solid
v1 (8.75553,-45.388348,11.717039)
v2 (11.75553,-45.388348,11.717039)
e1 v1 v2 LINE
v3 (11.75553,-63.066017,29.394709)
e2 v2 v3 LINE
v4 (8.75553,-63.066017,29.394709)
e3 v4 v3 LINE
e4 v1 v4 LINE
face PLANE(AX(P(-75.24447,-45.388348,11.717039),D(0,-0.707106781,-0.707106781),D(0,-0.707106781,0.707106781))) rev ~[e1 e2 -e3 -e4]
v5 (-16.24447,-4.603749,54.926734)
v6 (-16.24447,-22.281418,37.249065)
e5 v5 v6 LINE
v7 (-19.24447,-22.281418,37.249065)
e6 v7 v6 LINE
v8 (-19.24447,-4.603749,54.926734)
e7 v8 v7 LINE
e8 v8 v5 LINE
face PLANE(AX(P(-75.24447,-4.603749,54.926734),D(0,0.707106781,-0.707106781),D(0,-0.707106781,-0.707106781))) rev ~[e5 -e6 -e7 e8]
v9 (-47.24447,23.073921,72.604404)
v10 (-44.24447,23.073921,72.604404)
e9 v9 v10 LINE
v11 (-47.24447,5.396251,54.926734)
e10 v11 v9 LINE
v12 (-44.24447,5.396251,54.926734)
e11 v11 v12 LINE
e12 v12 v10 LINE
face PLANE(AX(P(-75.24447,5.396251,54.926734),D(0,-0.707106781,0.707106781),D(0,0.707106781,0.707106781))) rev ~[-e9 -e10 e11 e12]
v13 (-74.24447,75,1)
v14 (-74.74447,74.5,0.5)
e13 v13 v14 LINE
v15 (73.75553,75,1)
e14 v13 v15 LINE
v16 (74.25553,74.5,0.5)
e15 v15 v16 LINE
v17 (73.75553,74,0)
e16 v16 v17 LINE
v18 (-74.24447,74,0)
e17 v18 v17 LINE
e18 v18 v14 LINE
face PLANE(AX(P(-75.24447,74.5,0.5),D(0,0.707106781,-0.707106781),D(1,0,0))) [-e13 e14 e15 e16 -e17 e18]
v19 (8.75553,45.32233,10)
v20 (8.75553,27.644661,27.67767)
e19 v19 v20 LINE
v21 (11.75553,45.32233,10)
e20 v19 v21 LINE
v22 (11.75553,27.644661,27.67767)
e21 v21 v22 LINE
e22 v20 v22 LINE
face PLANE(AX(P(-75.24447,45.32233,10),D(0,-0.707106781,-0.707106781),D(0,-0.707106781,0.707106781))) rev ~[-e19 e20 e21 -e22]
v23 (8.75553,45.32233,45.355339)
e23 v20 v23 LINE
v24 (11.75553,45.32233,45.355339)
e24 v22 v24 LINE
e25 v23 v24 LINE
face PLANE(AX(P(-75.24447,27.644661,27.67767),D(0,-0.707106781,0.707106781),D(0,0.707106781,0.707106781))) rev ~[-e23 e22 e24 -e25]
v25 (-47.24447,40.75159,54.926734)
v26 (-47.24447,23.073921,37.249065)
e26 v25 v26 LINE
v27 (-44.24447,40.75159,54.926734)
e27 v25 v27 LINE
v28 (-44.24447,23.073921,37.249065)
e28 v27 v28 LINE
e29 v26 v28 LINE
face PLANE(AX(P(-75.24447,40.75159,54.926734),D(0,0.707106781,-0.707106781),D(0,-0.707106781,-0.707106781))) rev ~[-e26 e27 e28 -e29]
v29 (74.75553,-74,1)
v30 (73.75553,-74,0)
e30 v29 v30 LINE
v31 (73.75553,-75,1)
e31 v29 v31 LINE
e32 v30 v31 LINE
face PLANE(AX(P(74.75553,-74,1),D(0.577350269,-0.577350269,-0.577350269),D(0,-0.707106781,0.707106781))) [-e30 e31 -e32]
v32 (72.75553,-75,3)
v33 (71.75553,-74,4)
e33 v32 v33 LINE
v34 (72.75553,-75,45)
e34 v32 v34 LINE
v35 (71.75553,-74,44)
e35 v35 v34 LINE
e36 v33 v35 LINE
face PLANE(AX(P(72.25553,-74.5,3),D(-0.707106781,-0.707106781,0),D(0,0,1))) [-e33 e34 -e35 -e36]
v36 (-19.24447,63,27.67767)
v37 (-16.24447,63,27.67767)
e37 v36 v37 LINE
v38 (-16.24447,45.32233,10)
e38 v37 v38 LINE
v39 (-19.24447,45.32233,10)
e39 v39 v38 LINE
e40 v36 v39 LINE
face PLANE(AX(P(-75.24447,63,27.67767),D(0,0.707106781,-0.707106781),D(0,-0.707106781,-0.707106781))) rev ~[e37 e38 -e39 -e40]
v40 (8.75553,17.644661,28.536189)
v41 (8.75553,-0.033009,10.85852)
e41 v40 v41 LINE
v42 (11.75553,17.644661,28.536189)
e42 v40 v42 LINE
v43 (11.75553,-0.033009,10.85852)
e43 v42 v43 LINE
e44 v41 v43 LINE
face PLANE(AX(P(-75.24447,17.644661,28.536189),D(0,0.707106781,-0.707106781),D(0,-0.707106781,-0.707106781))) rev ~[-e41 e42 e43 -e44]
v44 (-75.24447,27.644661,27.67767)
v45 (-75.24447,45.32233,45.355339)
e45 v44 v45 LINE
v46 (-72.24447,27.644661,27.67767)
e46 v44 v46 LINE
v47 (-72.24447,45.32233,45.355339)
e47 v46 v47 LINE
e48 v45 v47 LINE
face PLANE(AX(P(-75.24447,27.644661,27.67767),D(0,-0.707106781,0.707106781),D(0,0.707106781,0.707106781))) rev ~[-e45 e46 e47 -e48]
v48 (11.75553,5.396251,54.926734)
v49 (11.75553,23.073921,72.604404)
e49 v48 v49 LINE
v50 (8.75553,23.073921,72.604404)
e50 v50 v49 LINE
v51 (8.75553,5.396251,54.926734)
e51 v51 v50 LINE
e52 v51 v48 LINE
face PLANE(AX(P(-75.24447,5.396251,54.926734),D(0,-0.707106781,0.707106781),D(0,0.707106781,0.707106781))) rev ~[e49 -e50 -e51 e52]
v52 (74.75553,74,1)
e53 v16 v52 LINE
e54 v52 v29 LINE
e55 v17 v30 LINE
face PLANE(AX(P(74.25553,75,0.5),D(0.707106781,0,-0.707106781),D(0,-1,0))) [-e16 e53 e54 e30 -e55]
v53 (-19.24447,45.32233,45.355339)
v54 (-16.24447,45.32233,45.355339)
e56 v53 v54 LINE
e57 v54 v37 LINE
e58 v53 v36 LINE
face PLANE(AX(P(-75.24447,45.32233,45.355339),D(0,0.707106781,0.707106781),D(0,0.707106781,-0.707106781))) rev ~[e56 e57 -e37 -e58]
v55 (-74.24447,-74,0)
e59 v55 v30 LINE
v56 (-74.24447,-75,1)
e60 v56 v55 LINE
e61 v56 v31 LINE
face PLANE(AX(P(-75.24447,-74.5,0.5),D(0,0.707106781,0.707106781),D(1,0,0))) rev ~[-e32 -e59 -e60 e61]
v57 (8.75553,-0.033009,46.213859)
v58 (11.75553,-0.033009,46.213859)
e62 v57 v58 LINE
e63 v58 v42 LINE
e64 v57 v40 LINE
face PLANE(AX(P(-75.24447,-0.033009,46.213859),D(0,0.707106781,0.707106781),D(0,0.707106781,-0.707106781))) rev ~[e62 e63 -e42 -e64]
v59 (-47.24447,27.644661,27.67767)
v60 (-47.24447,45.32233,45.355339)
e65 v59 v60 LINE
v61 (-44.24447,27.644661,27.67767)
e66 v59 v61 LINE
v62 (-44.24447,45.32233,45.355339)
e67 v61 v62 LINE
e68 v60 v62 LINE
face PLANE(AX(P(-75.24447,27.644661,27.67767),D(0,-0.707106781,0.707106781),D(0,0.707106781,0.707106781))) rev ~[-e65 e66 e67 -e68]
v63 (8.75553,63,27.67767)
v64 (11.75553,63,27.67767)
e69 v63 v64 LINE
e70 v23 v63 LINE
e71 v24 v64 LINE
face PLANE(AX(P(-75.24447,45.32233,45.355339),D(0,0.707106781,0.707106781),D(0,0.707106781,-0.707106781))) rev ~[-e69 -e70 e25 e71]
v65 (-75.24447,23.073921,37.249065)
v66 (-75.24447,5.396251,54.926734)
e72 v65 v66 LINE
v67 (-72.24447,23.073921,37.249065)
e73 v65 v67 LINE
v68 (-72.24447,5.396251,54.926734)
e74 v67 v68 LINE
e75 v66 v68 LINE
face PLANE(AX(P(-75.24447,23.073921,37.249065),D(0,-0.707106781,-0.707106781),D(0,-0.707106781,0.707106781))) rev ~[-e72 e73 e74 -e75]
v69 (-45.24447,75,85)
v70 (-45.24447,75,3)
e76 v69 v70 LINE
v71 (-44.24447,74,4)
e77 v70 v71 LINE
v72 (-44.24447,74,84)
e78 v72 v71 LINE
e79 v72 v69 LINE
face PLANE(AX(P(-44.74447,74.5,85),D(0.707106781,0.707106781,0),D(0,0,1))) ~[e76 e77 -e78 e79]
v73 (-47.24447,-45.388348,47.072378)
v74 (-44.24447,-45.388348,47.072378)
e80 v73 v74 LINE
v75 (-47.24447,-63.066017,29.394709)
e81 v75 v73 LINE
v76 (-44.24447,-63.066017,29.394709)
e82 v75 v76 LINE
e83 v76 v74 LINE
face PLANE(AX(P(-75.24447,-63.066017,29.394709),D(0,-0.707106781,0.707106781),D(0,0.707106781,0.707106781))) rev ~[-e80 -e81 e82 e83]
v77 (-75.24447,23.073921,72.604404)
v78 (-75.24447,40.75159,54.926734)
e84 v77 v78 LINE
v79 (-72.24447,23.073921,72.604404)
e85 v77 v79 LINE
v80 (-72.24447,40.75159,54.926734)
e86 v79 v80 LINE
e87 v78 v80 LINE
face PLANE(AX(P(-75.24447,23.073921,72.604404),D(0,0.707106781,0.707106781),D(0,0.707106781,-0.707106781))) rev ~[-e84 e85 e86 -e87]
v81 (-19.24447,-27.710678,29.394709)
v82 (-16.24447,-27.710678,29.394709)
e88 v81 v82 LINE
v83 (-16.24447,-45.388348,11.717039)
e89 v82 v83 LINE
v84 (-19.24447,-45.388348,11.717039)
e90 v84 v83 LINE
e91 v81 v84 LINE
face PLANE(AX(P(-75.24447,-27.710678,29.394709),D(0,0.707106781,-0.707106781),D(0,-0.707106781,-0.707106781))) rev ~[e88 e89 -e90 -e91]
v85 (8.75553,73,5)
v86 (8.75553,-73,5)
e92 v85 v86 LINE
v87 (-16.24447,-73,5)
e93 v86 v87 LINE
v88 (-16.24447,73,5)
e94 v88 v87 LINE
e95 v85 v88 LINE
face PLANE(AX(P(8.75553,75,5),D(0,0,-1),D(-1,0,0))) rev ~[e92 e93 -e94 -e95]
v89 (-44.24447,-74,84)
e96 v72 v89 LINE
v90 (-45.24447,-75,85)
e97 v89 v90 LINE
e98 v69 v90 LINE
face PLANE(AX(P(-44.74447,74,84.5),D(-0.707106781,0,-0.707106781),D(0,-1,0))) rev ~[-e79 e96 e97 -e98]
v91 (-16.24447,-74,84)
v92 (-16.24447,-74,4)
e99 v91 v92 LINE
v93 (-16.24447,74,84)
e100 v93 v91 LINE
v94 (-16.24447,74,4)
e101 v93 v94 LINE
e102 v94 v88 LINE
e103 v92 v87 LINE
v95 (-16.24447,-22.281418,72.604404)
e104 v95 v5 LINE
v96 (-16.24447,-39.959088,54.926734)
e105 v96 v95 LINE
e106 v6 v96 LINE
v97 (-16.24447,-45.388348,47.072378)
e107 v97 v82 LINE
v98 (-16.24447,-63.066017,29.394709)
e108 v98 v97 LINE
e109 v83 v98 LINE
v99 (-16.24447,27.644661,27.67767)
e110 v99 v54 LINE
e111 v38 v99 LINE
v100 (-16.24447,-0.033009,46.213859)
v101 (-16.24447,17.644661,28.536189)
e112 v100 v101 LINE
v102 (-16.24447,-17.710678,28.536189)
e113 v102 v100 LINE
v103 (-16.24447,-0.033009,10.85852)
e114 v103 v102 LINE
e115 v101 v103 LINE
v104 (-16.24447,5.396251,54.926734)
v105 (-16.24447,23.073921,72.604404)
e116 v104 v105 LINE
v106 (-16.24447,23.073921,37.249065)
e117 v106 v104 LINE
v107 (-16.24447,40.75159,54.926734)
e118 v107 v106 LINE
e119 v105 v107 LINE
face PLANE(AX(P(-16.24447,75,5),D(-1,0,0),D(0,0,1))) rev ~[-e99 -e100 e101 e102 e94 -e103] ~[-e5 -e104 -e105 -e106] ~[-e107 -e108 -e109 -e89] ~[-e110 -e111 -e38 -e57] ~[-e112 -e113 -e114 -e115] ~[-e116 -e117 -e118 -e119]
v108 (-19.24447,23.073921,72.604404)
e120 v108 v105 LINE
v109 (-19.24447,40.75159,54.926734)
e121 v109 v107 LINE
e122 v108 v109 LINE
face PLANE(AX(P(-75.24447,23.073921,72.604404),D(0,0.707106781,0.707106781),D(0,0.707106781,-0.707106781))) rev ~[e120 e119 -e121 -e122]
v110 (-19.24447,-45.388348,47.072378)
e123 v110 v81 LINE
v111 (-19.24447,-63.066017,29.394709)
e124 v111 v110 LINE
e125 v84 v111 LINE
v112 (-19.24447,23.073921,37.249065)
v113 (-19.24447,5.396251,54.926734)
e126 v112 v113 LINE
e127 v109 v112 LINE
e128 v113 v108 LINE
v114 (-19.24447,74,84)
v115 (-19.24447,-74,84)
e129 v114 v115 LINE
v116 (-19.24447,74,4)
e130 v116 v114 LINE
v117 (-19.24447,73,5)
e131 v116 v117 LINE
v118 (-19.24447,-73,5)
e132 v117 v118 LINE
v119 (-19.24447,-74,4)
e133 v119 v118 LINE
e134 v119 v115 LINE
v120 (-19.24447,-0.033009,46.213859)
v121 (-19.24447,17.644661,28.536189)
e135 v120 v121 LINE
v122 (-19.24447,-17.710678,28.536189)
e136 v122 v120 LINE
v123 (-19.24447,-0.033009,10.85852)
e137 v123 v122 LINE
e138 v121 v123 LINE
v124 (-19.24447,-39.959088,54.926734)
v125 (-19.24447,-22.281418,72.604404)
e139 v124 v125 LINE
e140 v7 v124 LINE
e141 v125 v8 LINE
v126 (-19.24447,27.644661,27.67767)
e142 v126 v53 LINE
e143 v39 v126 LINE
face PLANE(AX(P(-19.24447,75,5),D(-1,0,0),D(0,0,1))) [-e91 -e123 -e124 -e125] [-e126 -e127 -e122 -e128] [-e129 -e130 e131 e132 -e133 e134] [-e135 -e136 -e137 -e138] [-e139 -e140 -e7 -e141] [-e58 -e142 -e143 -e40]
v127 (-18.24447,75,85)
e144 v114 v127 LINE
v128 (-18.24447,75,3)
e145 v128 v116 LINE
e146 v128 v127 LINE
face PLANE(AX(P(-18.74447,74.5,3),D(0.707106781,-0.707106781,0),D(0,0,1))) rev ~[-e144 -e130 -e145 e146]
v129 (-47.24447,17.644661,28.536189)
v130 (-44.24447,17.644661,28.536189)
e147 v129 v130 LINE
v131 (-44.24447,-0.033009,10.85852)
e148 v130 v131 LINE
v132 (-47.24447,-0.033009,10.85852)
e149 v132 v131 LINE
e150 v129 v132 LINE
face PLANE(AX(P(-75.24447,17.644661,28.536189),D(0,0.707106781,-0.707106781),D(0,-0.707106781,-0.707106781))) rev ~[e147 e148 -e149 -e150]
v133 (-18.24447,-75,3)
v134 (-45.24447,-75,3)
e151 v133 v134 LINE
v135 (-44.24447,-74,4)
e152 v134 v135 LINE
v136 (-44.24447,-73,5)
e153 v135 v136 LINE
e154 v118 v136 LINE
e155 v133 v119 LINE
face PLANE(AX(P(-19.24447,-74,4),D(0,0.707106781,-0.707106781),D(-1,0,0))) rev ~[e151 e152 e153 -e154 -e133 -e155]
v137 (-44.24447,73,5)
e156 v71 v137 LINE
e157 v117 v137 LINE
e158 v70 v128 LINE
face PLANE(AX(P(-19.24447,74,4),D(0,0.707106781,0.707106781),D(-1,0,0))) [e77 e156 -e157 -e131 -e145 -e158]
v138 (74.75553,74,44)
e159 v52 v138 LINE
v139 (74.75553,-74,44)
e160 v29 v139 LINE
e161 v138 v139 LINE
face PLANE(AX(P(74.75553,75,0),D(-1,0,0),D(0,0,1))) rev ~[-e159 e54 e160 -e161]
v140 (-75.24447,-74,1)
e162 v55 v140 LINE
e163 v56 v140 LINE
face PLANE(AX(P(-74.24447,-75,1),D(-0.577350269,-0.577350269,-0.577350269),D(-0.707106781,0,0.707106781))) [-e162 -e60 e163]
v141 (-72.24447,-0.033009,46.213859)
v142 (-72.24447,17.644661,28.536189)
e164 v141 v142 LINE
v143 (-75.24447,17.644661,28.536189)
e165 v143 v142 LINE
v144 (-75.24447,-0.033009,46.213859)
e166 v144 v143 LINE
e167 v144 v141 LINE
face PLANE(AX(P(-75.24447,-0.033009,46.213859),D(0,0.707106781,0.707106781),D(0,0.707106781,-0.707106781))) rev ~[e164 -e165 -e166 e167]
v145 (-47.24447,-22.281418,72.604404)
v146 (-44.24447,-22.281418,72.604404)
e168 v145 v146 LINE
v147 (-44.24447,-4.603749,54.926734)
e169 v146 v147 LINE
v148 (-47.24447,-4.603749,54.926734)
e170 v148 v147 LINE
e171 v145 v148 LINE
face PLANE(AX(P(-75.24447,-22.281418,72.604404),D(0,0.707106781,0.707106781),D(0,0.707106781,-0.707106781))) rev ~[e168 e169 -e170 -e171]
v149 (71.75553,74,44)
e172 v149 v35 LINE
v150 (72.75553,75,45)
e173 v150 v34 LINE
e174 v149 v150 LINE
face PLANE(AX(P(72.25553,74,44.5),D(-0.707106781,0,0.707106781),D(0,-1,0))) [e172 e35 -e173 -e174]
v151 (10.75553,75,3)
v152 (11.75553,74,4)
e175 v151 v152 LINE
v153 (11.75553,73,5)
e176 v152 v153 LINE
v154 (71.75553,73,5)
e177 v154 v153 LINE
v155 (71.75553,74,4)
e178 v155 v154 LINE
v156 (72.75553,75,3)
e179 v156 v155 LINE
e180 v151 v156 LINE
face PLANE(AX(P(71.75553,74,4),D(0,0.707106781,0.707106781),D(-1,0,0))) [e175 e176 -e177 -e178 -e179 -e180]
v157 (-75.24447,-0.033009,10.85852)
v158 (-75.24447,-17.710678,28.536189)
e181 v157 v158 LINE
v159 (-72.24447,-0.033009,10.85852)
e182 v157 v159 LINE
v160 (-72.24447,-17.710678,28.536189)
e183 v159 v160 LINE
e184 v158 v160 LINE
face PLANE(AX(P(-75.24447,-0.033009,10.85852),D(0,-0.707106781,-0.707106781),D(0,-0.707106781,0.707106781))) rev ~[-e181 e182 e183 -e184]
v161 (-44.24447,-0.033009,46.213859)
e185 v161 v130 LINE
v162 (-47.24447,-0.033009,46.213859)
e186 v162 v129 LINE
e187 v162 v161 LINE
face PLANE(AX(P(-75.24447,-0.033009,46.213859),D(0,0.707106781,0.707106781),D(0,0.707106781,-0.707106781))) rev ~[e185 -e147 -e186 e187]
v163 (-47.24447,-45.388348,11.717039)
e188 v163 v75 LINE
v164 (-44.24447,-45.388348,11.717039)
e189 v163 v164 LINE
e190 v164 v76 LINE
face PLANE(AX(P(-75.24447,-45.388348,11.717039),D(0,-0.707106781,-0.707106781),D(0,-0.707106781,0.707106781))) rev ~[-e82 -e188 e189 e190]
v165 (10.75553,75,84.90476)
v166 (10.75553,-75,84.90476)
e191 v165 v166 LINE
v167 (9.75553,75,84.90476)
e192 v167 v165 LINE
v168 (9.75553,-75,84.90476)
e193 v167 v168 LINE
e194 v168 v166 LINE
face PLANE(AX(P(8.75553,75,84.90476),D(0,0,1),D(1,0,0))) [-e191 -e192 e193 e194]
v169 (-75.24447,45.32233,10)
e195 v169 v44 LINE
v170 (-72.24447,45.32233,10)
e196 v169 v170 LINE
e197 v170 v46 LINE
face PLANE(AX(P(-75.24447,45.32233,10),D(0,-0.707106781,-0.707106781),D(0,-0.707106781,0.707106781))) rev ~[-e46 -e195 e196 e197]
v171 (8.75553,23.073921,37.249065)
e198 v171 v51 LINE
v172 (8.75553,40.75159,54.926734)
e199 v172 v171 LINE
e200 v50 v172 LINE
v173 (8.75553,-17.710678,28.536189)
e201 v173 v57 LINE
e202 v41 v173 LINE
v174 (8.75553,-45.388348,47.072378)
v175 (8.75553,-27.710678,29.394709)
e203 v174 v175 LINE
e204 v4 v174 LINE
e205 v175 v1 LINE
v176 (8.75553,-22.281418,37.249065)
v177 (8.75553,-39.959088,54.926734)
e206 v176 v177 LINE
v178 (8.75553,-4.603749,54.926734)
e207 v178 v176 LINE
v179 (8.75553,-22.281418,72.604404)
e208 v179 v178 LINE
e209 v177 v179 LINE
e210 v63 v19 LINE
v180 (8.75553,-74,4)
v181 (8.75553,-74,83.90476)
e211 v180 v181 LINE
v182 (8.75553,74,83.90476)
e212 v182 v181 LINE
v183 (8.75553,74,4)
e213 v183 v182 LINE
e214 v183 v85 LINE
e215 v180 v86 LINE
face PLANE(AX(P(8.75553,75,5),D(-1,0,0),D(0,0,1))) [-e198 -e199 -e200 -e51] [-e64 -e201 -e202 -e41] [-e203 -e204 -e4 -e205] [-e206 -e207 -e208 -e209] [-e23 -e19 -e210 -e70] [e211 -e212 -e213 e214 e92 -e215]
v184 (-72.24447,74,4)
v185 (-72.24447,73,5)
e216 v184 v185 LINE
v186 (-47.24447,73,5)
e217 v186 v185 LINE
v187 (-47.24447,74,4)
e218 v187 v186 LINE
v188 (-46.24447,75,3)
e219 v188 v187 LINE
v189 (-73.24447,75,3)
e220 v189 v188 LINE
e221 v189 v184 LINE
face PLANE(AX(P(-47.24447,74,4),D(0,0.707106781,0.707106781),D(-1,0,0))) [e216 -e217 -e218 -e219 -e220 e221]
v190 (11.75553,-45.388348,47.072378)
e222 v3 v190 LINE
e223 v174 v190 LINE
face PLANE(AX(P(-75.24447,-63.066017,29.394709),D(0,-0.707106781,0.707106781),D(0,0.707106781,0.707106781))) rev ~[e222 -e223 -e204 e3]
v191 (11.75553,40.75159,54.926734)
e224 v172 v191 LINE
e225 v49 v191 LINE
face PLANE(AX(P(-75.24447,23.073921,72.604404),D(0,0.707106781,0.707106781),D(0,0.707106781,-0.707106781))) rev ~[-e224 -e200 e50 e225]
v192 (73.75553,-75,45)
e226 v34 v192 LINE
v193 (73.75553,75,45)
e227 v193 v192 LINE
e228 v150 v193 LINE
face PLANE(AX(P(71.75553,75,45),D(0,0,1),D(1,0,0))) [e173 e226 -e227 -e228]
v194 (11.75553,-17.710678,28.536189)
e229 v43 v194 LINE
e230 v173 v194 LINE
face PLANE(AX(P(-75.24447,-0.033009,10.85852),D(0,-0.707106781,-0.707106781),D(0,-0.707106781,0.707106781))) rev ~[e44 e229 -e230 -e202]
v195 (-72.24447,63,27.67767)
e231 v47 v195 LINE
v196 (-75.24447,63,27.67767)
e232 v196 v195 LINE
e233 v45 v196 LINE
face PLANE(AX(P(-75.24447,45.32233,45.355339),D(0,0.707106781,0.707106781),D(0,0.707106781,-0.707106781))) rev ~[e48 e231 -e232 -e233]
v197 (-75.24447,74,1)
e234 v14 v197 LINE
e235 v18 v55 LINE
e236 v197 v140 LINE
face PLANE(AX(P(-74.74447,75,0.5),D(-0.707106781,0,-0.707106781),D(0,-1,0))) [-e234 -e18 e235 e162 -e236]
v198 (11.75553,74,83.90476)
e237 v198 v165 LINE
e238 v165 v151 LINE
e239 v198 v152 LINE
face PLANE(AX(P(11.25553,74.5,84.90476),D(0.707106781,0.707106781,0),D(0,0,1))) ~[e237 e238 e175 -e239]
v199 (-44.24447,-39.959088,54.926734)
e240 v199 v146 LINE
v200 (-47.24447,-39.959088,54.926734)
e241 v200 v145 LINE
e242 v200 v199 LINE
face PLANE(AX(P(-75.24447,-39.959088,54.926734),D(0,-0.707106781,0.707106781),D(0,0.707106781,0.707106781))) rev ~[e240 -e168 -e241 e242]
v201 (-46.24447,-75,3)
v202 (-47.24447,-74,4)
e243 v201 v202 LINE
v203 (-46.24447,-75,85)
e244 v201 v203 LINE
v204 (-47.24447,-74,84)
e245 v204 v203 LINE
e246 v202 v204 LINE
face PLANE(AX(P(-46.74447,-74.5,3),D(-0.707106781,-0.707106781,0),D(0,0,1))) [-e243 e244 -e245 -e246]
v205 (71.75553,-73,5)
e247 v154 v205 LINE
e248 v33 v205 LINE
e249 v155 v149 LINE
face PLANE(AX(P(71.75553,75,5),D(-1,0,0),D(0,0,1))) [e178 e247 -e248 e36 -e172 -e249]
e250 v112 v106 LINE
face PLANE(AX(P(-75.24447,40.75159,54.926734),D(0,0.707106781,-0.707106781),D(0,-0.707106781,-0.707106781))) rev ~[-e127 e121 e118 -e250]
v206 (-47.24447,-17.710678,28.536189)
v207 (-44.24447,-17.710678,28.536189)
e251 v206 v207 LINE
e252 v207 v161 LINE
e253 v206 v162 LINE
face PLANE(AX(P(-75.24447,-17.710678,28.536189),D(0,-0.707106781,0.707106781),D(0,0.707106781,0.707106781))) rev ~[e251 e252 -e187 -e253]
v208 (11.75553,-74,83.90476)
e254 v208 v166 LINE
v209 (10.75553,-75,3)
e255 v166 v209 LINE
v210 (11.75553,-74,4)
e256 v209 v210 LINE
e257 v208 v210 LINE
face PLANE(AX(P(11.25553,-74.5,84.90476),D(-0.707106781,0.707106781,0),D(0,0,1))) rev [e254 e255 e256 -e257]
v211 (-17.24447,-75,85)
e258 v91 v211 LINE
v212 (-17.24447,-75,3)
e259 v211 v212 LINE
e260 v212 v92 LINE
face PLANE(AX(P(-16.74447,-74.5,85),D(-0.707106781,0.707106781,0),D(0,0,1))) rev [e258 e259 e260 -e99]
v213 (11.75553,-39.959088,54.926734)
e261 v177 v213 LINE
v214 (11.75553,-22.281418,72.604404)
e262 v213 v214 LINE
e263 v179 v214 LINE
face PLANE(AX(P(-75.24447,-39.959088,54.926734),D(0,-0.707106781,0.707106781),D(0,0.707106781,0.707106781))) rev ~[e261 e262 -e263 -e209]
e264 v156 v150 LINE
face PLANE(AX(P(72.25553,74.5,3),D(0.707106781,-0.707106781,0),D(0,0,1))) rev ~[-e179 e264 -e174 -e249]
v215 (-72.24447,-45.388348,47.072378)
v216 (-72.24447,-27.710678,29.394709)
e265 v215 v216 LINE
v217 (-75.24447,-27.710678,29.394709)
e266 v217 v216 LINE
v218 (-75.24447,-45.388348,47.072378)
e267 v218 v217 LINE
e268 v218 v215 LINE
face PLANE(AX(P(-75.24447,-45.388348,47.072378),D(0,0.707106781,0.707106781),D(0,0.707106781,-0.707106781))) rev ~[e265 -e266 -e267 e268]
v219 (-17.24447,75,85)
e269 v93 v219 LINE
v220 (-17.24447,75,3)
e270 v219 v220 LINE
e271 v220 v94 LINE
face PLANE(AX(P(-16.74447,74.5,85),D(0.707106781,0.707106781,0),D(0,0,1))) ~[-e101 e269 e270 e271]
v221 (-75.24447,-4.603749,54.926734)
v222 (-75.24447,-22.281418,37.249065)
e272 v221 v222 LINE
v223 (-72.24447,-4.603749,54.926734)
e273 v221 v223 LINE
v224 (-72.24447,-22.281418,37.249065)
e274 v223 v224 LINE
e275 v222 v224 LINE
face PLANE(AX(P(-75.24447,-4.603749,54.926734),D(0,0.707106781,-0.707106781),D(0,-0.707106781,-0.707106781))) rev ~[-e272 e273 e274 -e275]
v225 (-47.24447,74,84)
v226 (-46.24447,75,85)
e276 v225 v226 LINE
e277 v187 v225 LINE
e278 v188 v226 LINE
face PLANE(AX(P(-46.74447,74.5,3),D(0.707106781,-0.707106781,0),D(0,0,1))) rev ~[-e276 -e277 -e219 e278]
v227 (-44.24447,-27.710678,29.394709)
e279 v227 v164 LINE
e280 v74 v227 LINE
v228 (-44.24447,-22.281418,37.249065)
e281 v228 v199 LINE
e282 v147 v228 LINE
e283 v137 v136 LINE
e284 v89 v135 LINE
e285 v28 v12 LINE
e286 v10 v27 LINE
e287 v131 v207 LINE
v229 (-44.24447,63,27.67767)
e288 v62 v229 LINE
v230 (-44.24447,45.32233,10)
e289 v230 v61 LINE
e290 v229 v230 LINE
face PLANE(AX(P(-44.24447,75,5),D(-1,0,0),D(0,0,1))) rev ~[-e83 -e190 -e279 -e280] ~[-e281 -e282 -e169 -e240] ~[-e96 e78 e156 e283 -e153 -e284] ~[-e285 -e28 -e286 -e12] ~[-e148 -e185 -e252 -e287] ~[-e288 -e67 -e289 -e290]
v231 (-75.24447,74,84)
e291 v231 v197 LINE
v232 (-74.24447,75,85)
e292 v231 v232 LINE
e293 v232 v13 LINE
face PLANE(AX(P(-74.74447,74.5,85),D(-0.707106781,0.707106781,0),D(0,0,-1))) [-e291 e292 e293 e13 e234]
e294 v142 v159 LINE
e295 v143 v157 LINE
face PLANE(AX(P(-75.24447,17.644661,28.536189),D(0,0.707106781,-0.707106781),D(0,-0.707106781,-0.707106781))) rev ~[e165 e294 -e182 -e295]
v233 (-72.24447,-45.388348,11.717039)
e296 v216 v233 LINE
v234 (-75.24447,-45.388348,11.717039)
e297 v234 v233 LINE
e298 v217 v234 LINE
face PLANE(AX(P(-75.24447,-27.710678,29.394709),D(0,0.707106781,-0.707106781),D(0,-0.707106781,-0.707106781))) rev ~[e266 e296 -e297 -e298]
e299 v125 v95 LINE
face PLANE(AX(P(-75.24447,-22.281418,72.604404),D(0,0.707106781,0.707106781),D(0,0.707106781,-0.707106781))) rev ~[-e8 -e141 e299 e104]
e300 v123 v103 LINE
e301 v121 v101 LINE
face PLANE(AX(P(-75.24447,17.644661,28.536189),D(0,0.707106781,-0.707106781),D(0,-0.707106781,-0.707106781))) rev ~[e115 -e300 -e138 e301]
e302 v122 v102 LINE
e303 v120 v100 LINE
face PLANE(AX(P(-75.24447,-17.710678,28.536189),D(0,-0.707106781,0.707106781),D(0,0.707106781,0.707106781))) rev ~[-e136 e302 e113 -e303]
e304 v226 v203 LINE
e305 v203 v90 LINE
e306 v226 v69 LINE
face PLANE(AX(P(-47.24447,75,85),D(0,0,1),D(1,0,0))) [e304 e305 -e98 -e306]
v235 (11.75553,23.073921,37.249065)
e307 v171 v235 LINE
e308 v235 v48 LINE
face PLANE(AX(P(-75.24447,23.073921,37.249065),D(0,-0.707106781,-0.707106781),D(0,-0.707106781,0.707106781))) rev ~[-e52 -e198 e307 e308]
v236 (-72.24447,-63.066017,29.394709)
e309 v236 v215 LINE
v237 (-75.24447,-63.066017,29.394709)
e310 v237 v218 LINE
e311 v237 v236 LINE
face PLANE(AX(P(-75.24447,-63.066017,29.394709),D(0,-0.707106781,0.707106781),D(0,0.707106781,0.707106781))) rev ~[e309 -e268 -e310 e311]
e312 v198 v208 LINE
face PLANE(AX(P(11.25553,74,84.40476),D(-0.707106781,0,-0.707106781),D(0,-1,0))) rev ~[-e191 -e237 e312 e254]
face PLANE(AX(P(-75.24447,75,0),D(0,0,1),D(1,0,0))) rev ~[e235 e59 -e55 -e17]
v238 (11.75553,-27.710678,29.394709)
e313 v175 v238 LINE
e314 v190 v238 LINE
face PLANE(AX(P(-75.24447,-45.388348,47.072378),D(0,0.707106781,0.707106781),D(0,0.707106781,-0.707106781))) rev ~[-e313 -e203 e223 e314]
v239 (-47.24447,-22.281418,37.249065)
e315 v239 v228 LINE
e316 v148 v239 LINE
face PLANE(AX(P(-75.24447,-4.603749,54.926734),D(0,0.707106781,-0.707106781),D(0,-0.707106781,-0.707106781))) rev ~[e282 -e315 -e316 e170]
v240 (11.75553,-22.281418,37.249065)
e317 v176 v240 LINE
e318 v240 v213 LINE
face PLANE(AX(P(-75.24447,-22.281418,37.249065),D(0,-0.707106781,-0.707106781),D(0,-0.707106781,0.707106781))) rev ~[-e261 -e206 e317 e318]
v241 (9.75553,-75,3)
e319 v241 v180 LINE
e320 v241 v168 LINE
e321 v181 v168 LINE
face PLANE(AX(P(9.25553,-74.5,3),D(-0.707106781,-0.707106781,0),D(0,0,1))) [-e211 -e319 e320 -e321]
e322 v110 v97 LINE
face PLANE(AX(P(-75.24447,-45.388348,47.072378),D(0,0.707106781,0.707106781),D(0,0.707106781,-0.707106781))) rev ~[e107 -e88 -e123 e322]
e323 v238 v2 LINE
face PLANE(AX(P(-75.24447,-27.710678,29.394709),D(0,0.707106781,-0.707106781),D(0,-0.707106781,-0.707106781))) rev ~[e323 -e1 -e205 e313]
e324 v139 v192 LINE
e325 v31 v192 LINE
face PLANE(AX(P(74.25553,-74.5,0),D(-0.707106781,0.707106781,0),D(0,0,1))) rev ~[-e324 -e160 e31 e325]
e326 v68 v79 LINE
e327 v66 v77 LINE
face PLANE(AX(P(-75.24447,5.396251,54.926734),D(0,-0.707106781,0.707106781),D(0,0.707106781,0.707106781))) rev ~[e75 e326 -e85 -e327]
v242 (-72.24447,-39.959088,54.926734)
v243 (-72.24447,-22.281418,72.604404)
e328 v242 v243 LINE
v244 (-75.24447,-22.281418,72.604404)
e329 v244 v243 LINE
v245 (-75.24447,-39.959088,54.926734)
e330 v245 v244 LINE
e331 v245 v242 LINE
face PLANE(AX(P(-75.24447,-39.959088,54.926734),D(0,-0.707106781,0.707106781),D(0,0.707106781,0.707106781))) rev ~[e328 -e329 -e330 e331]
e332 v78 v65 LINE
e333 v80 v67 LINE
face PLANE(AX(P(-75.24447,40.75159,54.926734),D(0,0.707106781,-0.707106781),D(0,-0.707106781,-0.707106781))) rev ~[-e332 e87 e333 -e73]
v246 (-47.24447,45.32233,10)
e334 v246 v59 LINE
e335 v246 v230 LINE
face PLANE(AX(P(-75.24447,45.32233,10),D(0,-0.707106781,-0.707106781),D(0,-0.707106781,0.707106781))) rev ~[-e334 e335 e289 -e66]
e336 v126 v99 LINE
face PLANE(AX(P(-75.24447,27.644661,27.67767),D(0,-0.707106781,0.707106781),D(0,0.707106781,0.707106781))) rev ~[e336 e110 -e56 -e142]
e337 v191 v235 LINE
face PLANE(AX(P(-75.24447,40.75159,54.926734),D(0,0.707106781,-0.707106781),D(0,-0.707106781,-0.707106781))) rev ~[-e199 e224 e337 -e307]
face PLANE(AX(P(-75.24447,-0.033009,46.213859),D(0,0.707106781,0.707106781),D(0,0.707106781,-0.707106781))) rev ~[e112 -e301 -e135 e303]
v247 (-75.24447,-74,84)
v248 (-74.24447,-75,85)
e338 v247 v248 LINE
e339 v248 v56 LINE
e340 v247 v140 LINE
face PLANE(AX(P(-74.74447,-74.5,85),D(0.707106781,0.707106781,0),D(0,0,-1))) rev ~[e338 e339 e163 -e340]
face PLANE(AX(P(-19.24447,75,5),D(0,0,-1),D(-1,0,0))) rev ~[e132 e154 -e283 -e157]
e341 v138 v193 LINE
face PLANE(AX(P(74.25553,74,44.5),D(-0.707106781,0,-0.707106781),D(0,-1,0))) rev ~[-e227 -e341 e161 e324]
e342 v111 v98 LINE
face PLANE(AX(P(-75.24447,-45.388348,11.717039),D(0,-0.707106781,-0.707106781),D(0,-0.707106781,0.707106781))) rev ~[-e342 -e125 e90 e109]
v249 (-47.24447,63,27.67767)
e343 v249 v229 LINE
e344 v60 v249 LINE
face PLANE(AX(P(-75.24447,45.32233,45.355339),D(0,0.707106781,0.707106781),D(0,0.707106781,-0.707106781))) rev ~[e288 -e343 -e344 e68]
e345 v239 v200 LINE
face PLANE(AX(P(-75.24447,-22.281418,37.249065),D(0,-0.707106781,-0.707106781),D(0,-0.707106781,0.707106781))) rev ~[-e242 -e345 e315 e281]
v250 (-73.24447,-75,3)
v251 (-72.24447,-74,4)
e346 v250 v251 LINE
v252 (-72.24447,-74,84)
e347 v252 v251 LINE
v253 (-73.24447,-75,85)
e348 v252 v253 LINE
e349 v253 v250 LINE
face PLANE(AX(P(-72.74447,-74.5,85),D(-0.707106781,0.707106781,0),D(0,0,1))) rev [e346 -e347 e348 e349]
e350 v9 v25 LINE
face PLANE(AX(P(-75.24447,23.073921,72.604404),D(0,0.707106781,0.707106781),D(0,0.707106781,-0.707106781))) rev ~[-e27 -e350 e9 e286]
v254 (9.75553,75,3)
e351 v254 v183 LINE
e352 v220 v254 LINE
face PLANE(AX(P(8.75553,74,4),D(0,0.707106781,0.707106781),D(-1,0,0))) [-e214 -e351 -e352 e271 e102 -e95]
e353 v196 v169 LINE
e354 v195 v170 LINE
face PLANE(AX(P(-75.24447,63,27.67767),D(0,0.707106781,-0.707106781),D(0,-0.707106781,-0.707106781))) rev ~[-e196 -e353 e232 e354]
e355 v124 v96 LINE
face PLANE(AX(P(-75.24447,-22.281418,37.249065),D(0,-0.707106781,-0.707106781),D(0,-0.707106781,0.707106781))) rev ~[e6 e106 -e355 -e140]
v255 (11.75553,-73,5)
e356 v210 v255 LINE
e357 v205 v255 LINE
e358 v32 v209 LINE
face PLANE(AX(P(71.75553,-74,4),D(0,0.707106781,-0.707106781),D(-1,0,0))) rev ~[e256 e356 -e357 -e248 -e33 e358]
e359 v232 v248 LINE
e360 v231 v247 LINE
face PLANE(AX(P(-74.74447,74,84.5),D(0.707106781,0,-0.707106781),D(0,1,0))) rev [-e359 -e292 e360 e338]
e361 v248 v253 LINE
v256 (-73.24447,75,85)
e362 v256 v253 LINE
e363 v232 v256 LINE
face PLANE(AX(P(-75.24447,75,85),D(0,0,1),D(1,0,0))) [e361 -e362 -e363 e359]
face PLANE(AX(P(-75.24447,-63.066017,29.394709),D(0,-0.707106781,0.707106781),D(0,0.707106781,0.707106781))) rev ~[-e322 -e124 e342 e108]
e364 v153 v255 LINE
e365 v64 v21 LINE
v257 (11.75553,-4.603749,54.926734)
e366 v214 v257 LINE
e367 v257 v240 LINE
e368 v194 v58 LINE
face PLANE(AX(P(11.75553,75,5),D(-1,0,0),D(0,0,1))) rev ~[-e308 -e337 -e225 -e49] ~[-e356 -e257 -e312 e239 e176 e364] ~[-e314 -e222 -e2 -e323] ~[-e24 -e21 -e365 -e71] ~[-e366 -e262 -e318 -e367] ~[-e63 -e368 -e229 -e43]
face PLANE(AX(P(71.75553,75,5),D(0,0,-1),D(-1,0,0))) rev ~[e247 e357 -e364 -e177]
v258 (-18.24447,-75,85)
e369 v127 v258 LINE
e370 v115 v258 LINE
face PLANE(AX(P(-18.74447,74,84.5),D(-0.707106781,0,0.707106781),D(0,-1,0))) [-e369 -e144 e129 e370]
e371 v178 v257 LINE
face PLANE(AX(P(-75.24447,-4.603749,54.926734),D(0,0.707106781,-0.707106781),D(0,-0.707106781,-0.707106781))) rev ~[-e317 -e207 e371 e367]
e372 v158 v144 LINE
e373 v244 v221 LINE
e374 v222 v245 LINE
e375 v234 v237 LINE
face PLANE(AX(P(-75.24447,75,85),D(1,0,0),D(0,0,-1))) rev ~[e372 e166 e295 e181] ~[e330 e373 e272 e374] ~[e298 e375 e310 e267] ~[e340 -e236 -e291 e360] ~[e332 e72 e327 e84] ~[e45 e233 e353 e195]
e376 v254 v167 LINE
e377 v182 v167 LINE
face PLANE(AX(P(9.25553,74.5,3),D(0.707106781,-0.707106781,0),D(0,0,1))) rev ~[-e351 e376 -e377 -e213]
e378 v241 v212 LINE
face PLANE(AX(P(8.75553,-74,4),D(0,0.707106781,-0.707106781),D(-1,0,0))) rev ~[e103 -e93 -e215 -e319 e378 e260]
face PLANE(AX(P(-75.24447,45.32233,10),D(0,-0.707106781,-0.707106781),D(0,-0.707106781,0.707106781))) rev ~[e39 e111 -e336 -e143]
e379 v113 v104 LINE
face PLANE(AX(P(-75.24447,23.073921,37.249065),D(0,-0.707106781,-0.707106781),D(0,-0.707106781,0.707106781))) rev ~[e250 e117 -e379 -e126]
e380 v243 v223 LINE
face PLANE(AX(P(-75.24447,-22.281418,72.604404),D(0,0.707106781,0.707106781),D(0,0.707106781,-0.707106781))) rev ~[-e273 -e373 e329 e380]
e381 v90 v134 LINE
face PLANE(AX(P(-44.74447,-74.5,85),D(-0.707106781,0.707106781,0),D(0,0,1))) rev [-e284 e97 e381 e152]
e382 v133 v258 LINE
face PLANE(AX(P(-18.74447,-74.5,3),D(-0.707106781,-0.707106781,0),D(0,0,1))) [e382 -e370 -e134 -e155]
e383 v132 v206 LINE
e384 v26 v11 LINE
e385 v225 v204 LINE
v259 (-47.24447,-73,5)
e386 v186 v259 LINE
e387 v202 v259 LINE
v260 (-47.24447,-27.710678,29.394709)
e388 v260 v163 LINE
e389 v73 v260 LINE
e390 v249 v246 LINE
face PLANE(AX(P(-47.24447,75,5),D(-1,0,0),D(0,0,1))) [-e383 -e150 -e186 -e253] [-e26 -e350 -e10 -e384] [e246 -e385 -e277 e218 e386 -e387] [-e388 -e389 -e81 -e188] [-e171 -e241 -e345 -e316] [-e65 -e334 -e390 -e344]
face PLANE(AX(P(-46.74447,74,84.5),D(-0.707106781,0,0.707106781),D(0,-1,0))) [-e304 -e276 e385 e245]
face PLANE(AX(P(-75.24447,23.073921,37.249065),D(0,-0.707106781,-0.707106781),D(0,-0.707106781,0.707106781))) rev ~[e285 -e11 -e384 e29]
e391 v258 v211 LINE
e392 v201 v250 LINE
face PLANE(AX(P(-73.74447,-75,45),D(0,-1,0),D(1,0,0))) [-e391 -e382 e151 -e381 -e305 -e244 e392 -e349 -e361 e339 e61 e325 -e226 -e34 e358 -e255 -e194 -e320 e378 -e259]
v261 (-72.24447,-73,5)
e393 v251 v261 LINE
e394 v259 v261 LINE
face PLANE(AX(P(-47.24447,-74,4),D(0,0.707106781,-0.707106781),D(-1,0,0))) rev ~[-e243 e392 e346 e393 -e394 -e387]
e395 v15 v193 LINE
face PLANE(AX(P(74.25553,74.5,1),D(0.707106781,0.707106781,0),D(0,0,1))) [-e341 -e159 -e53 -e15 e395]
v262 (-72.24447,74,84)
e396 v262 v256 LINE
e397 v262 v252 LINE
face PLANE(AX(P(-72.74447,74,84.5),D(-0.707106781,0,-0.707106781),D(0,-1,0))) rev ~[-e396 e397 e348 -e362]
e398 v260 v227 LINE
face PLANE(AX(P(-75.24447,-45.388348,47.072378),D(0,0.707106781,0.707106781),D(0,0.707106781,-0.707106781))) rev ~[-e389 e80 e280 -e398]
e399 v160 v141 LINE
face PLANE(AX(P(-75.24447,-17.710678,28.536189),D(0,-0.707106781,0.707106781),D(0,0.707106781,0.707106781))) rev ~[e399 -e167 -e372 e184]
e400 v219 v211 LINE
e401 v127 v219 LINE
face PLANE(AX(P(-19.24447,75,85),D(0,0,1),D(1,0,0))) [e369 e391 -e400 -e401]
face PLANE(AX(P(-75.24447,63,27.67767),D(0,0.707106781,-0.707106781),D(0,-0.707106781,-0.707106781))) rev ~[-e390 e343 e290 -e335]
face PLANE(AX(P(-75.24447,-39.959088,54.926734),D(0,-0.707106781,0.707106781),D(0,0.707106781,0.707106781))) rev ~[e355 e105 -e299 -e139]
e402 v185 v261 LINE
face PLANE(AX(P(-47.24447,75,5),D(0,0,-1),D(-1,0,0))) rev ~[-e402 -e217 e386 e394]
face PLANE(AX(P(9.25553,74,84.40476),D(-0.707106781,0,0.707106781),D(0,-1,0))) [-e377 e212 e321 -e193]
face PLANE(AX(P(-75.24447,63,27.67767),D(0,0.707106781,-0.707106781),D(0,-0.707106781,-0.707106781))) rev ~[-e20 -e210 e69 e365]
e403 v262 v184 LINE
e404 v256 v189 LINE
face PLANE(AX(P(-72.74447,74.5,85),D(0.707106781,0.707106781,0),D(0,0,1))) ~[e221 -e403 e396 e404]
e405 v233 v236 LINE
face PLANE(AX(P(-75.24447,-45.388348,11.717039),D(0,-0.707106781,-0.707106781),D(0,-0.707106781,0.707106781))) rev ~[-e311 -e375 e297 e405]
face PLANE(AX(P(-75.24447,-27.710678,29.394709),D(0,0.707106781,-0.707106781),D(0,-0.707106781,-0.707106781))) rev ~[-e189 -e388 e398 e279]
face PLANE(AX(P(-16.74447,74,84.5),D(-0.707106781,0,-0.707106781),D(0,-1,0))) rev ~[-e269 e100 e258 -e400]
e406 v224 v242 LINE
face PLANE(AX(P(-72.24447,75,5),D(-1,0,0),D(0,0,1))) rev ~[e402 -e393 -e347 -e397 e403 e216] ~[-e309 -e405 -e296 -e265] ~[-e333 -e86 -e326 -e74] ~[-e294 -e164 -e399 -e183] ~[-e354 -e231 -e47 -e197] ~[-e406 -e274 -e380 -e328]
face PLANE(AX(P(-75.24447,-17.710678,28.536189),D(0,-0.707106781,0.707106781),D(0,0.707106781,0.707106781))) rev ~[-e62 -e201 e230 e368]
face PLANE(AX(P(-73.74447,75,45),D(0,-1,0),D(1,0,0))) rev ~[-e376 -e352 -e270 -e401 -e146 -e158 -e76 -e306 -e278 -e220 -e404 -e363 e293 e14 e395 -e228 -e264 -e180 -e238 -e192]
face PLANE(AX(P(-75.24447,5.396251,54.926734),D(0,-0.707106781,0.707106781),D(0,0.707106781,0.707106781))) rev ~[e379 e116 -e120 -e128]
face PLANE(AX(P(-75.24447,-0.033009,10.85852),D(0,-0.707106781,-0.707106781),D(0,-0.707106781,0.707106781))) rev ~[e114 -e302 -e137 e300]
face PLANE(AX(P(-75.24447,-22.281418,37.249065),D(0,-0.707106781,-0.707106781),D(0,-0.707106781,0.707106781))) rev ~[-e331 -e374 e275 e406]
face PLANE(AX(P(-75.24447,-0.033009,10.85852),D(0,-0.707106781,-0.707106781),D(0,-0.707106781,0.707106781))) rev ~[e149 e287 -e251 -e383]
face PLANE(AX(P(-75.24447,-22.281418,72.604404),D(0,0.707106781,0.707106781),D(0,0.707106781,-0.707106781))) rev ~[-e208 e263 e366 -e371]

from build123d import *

# Parameters (mm, degrees)
F0_W     = 3
F0_H     = 80
F0_H_2   = 40
F0_H_3   = 79.9047601223
F1_DEPTH = 150
F3_DEPTH = 120
F4_SIZE  = 2
F5_SIZE  = 1
F6_SIZE  = 1
F7_SIZE  = 1


with BuildPart() as f1:
    # F0 (on Front) → F1 (new body)
    with BuildSketch(Plane.XZ):
        with Locations((-61.7444703951, 45)):
            Rectangle(F0_W, F0_H)
        Polygon((-60.2444703951, 5), (-63.2444703951, 5), (-63.2444703951, 0), (86.7555296049, 0), (86.7555296049, 5), (83.7555296049, 5), (23.7555296049, 5), (20.7555296049, 5), (-4.2444703951, 5), (-7.2444703951, 5), (-32.2444703951, 5), (-35.2444703951, 5), align=None)
        with Locations((-33.7444703951, 45)):
            Rectangle(F0_W, F0_H)
        with Locations((85.2555296049, 25)):
            Rectangle(F0_W, F0_H_2)
        with Locations((-5.7444703951, 45)):
            Rectangle(F0_W, F0_H)
        with Locations((22.2555296049, 44.9523800611)):
            Rectangle(F0_W, F0_H_3)
    extrude(amount=F1_DEPTH)

    # F2 (on face) → F3 (cut)
    with BuildSketch(Plane(origin=(-63.2444703951, 0, 0), x_dir=(0, -1, 0), z_dir=(-1, 0, 0))):
        Polygon((47.3553390593, 27.6776695297), (29.6776695297, 45.3553390593), (12, 27.6776695297), (29.6776695297, 10), align=None)
        Polygon((92.7106781187, 28.5361891277), (75.033008589, 46.2138586573), (57.3553390593, 28.5361891277), (75.033008589, 10.858519598), align=None)
        Polygon((138.066017178, 29.3947087257), (120.3883476483, 47.0723782553), (102.7106781187, 29.3947087257), (120.3883476483, 11.717039196), align=None)
        Polygon((69.60374879, 54.9267344821), (51.9260792603, 72.6044040117), (34.2484097307, 54.9267344821), (51.9260792603, 37.2490649524), align=None)
        Polygon((114.9590878493, 54.9267344821), (97.2814183197, 72.6044040117), (79.60374879, 54.9267344821), (97.2814183197, 37.2490649524), align=None)
    extrude(amount=-F3_DEPTH, mode=Mode.SUBTRACT)

    # F4
    f4_edges = [f1.edges().sort_by_distance(p)[0] for p in [
        (53.75553, -150, 5),
        (8.25553, -150, 5),
        (-19.74447, -150, 5),
        (-47.74447, -150, 5),
        (-47.74447, 0, 5),
        (-19.74447, 0, 5),
        (8.25553, 0, 5),
        (53.75553, 0, 5),
    ]]
    chamfer(f4_edges, length=F4_SIZE)

    # F5
    f5_edges = [f1.edges().sort_by_distance(p)[0] for p in [
        (-63.24447, -75, 0),
        (11.75553, -150, 0),
        (86.75553, -75, 0),
        (11.75553, 0, 0),
        (83.75553, -150, 25),
        (20.75553, -150, 44.95238),
        (-7.24447, -150, 45),
        (-35.24447, -150, 45),
        (-63.24447, -150, 42.5),
        (86.75553, -150, 22.5),
        (23.75553, -150, 44.95238),
        (-4.24447, -150, 45),
        (-32.24447, -150, 45),
        (-60.24447, -150, 45),
    ]]
    chamfer(f5_edges, length=F5_SIZE)

    # F6
    f6_edges = [f1.edges().sort_by_distance(p)[0] for p in [
        (83.75553, 0, 25),
        (86.75553, 0, 23),
        (23.75553, 0, 44.95238),
        (20.75553, 0, 44.95238),
        (-4.24447, 0, 45),
        (-7.24447, 0, 45),
        (-32.24447, 0, 45),
        (-35.24447, 0, 45),
        (-60.24447, 0, 45),
        (-63.24447, 0, 43),
    ]]
    chamfer(f6_edges, length=F6_SIZE)

    # F7
    f7_edges = [f1.edges().sort_by_distance(p)[0] for p in [
        (86.75553, -75, 45),
        (83.75553, -75, 45),
        (23.75553, -75, 84.90476),
        (20.75553, -75, 84.90476),
        (-4.24447, -75, 85),
        (-7.24447, -75, 85),
        (-32.24447, -75, 85),
        (-35.24447, -75, 85),
        (-60.24447, -75, 85),
        (-63.24447, -75, 85),
    ]]
    chamfer(f7_edges, length=F7_SIZE)


with BuildPart() as f1_1:
    # F8: moved
    add(f1.part.moved(Location((-12, 75, 0))))


solid = f1_1.part
